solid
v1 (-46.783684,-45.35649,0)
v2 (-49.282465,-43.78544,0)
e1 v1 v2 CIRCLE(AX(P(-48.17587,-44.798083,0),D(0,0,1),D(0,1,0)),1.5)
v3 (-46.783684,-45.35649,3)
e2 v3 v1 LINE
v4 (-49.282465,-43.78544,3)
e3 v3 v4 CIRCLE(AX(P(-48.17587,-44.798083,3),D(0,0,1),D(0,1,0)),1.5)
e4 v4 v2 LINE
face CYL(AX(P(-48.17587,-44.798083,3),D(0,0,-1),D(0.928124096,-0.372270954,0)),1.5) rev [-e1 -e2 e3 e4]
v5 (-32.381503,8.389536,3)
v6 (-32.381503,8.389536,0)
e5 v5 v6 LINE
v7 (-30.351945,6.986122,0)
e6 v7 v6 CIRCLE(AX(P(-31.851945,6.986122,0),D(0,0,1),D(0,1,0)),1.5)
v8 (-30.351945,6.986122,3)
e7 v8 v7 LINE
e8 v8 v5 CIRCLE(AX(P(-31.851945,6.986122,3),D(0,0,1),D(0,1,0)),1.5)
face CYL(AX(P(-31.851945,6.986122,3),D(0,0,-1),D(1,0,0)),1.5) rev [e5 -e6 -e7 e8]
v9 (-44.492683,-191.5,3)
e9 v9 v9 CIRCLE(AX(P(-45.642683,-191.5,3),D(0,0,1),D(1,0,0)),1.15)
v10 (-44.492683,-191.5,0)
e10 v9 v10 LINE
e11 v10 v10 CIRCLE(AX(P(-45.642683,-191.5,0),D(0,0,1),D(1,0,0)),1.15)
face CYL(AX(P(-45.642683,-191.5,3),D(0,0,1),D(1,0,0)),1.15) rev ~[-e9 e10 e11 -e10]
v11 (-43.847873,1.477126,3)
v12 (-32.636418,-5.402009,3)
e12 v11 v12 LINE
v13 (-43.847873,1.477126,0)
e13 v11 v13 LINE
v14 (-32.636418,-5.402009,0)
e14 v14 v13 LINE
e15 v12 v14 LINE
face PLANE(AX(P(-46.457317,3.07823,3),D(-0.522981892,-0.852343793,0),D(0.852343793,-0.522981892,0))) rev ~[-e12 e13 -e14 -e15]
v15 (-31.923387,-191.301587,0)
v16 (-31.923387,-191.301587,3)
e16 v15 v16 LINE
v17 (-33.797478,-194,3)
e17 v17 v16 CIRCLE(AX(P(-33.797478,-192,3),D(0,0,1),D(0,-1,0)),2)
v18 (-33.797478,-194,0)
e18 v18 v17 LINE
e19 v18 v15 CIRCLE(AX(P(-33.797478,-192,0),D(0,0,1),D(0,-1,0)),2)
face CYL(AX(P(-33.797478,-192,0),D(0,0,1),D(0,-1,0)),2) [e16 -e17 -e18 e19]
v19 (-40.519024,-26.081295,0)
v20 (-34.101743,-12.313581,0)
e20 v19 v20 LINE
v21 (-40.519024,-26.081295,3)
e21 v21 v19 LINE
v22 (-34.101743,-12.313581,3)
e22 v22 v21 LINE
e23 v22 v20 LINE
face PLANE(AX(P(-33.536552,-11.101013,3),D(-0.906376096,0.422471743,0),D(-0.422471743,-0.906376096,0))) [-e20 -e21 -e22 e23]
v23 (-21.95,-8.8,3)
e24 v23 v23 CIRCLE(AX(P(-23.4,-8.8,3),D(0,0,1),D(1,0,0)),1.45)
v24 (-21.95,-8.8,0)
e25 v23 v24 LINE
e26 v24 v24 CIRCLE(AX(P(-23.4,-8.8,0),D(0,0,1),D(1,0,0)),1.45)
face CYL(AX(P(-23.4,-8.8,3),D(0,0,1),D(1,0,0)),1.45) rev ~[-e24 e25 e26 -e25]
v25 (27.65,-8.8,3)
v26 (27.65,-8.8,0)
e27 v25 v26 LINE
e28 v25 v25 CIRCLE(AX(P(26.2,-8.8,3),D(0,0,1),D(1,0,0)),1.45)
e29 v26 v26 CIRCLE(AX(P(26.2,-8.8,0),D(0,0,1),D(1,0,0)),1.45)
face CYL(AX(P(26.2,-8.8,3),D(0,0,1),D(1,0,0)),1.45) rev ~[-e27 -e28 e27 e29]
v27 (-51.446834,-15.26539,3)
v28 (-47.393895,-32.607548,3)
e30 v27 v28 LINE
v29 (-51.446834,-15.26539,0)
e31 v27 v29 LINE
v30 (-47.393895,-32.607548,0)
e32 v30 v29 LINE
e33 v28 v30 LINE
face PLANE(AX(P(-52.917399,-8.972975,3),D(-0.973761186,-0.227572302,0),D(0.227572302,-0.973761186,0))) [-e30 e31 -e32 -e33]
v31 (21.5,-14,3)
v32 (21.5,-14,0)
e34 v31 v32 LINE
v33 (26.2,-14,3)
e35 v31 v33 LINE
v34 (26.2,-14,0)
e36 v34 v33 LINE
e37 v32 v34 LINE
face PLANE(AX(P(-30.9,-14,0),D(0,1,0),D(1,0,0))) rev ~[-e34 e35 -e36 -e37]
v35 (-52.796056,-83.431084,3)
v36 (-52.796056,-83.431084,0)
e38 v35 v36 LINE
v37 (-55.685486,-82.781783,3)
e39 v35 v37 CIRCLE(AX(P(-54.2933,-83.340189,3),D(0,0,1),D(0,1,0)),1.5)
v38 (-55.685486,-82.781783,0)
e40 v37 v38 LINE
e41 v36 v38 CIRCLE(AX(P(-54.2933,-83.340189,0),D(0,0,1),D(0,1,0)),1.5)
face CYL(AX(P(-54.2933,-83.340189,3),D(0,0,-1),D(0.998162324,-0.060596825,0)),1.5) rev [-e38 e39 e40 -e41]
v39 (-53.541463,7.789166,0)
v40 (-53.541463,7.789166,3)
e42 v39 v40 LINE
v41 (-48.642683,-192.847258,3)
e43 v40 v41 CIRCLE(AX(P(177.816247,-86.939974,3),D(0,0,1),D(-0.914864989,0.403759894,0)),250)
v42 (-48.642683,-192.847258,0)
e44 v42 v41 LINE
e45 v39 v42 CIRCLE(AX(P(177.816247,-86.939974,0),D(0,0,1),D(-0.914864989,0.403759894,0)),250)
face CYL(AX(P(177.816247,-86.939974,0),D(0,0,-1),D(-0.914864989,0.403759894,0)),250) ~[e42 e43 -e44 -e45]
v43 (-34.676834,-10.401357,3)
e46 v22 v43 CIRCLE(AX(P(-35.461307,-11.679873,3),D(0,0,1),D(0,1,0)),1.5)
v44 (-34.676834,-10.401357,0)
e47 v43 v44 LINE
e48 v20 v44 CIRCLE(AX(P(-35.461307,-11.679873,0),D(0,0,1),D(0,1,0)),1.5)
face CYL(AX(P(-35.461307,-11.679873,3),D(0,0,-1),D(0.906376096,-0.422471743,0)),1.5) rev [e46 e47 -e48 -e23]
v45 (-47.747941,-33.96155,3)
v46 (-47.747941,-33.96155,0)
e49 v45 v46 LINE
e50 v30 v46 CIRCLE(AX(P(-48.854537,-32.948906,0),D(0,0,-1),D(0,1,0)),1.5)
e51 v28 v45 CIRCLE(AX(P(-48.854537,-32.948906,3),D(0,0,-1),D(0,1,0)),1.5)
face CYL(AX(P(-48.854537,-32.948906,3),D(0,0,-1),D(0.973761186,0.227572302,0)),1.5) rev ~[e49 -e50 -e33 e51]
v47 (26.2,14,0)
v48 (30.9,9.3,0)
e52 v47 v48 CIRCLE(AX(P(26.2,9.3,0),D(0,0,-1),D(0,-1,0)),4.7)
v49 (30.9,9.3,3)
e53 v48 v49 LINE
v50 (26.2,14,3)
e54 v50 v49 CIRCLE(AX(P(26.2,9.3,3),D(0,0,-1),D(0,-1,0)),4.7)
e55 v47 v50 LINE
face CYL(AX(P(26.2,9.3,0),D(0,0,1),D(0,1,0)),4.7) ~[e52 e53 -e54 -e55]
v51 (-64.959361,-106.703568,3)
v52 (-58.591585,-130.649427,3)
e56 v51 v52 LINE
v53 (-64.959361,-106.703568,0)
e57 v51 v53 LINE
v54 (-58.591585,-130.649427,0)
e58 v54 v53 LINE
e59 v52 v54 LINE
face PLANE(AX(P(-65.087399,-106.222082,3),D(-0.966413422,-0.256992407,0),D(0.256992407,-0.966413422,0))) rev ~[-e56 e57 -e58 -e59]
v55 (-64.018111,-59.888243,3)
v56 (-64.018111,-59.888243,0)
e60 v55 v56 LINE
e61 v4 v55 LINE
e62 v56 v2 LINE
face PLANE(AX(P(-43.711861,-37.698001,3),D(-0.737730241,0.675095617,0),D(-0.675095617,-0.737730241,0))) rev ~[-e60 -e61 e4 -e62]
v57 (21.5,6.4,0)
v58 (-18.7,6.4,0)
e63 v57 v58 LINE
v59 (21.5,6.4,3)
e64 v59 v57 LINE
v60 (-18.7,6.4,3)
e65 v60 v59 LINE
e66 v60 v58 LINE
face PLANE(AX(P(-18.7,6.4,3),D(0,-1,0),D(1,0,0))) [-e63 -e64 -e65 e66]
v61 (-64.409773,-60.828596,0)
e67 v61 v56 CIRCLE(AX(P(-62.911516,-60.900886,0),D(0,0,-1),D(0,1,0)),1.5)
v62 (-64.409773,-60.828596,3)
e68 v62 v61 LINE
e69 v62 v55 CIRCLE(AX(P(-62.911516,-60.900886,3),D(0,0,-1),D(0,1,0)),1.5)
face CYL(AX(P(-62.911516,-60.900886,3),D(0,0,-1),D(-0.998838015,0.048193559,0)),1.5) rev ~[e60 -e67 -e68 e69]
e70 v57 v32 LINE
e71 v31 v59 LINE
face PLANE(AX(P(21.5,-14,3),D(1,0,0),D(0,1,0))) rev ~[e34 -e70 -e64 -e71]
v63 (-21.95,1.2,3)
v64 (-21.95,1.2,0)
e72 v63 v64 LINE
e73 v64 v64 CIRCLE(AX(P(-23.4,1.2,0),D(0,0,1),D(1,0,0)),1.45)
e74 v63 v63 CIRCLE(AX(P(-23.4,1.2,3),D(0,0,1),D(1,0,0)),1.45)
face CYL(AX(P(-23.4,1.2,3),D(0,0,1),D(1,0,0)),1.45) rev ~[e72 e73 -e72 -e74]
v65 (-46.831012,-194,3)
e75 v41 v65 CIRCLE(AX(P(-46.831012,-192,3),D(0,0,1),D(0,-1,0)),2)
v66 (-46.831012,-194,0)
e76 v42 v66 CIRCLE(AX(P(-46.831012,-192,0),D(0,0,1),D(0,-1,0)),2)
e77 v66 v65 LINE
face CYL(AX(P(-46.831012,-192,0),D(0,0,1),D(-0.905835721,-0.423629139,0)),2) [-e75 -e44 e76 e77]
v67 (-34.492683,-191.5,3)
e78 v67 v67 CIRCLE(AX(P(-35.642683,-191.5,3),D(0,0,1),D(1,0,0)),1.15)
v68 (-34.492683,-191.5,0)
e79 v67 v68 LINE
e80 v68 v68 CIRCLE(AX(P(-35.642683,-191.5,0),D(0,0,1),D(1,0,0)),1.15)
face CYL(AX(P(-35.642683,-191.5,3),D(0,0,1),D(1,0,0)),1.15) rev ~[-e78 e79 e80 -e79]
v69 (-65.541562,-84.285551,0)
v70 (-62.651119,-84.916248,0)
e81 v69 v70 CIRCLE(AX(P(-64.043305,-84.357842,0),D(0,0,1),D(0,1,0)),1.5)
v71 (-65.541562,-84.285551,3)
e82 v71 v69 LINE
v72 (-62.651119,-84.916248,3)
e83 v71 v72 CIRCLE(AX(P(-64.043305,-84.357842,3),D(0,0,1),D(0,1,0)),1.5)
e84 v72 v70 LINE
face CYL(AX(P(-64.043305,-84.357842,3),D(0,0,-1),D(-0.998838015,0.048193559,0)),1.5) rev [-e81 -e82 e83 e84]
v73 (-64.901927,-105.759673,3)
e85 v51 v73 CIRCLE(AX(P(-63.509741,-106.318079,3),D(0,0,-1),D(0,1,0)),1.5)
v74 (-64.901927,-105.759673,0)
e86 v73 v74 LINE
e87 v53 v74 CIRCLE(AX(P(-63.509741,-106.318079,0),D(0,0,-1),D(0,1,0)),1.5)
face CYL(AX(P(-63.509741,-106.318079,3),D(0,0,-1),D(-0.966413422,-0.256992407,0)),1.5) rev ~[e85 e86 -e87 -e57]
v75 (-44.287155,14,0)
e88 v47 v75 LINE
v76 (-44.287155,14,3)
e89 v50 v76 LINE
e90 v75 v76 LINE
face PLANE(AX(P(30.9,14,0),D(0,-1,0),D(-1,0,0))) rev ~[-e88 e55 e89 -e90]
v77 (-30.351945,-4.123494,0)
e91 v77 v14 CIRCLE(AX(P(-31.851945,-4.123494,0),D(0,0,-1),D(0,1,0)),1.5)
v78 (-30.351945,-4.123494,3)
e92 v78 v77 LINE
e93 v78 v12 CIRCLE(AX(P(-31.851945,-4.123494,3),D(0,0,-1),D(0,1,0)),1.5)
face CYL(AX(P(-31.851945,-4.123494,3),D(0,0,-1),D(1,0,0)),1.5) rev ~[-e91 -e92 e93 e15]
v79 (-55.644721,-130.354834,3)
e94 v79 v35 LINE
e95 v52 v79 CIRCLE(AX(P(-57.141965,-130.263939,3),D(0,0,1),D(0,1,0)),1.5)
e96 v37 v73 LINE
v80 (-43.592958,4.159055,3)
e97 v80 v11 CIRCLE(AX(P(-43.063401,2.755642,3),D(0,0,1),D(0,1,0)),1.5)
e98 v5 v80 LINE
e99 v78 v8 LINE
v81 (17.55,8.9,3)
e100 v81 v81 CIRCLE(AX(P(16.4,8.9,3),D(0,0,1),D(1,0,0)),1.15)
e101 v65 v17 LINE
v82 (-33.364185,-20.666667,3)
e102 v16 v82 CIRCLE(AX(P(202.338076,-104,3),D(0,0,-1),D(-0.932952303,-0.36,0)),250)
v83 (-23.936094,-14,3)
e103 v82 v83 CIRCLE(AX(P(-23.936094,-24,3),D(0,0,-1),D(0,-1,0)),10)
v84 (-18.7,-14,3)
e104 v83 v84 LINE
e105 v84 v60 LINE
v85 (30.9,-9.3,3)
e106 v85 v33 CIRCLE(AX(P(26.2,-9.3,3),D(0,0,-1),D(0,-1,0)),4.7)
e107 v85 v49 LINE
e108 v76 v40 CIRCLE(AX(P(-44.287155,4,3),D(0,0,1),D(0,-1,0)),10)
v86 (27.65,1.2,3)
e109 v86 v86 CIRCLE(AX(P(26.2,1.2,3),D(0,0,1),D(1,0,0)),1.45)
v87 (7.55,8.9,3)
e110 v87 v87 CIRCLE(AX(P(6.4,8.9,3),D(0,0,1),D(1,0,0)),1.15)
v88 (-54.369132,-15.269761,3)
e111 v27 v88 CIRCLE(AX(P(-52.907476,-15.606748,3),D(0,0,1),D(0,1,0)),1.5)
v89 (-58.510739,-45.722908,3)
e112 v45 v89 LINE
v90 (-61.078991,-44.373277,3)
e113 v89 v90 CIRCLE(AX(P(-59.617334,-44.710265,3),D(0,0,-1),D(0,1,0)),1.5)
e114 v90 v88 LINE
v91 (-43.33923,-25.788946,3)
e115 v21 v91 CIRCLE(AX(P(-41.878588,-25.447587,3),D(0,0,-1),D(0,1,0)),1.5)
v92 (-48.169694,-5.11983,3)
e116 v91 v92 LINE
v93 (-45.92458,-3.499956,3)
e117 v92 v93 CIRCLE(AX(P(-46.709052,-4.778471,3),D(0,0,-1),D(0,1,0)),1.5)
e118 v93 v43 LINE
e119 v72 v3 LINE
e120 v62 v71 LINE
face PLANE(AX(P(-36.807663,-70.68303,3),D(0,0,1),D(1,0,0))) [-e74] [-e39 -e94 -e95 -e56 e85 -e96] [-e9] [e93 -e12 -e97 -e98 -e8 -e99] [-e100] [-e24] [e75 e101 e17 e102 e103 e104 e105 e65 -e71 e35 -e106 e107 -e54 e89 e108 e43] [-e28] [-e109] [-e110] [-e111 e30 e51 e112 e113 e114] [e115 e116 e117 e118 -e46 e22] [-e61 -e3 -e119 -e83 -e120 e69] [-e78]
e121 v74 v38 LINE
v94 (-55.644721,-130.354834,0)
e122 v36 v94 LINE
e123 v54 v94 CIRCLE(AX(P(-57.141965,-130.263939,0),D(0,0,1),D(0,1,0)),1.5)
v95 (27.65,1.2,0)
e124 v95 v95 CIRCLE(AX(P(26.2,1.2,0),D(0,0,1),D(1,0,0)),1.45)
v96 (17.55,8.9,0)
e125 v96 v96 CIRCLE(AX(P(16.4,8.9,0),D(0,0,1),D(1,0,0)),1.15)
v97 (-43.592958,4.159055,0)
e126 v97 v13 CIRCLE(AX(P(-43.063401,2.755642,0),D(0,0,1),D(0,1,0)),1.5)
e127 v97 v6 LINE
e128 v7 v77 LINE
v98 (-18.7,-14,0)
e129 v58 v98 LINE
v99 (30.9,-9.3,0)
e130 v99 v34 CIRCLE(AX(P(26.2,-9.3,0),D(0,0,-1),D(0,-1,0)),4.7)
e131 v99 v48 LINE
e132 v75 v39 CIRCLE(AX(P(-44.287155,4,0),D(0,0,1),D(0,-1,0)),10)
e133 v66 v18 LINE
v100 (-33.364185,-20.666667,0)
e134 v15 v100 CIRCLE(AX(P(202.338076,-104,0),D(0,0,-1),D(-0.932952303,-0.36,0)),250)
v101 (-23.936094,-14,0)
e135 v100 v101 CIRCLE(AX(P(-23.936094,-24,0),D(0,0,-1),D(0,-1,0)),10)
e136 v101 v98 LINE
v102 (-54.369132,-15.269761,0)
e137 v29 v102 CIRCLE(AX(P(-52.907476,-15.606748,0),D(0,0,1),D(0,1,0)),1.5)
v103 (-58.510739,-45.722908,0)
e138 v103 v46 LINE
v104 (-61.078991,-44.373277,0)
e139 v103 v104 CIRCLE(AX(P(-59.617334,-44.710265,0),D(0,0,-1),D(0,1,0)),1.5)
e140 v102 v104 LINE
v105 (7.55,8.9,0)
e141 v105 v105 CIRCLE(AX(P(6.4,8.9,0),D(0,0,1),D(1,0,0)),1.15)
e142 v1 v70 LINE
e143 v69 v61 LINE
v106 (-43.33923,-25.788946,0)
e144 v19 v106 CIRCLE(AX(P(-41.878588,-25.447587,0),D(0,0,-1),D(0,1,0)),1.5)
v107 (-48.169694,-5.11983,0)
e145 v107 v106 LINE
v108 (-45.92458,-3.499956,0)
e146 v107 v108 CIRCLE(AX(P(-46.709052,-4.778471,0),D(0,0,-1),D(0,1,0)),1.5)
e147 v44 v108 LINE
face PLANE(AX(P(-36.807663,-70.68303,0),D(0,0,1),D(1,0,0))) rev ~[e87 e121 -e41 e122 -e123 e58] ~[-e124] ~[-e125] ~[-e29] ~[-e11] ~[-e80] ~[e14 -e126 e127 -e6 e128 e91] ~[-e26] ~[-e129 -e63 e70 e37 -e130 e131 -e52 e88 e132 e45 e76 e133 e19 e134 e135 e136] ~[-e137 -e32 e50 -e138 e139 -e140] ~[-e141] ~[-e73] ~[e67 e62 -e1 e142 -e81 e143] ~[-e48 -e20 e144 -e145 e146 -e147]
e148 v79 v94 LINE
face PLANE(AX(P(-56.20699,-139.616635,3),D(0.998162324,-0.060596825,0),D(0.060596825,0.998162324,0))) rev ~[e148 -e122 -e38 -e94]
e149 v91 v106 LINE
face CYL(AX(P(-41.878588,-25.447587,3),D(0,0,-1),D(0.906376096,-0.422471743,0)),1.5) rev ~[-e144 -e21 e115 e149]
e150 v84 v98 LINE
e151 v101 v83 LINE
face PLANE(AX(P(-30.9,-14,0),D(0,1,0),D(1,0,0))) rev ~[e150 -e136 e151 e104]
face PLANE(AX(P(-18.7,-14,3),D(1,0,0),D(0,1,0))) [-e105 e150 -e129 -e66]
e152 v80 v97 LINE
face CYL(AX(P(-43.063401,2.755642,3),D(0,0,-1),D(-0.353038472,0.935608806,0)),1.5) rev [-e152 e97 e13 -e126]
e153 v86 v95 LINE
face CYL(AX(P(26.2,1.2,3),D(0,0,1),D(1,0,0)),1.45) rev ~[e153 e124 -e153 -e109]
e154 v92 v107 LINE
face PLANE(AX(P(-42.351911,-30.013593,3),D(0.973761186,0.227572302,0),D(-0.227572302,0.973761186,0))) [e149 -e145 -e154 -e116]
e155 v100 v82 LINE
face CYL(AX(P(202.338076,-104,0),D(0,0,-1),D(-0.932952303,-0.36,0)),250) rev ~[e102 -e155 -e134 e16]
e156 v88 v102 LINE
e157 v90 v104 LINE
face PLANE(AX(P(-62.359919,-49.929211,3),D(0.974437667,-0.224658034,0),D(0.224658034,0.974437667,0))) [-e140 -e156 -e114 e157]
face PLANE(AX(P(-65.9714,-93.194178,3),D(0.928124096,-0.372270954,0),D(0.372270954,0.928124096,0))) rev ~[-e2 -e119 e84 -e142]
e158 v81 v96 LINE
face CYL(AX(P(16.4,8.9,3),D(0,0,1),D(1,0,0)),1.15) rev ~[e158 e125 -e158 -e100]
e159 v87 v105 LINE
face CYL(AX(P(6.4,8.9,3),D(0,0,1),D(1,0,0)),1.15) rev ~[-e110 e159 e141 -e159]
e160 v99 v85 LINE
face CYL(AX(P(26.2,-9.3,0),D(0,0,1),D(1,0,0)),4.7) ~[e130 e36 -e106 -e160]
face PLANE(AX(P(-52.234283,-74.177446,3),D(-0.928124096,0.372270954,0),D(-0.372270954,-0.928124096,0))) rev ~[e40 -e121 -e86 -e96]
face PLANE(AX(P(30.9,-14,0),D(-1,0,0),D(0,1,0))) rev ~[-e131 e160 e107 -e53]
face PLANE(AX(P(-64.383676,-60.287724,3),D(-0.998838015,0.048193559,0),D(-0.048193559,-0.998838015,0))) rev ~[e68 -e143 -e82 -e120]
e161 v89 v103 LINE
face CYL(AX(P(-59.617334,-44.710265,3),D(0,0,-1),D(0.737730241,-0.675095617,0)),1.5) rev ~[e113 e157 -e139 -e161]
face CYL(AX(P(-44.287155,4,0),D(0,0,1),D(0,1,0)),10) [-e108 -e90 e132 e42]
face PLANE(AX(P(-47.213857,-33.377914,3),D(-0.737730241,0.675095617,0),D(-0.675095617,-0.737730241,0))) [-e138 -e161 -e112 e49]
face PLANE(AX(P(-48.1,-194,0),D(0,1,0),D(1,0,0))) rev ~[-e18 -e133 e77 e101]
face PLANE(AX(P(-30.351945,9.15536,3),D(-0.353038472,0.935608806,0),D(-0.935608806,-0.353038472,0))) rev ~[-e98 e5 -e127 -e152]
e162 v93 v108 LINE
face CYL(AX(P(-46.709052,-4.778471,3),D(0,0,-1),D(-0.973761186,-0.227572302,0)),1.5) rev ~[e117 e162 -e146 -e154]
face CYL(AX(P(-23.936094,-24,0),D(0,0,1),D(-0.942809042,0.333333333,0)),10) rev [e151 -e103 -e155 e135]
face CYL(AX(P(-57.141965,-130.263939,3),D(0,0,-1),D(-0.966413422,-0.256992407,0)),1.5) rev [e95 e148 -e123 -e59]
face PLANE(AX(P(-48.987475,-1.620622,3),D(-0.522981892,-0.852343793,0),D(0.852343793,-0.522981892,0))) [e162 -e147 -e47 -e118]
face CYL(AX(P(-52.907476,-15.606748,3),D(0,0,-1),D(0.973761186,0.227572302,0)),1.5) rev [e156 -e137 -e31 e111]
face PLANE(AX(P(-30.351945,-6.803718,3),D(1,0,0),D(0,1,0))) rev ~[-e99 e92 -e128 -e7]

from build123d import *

# Parameters (mm, degrees)
BOSS_EXTRU_1_DEPTH      = 3
ENL_V_MAT_EXTRU_1_REACH = 209.016
ESQUISSE2_W             = 40.2
ESQUISSE2_H             = 20.4
ENL_V_MAT_EXTRU_2_REACH = 209.016
ESQUISSE3_R             = 1.45
CONG_2_R                = 4.7
CONG_3_R                = 10
CONG_5_R                = 2
ENL_V_MAT_EXTRU_3_REACH = 209.016
CONG_6_R                = 1.5
ENL_V_MAT_EXTRU_4_REACH = 209.016
ESQUISSE5_R             = 1.15
ESQUISSE6_R             = 1.15
ENL_V_MAT_EXTRU_5_DEPTH = 10


with BuildPart() as part:
    # Esquisse1 → Boss.-Extru.1 (new body)
    with BuildSketch(Plane.XY):
        with BuildLine():
            Line((-30.9, -14), (30.9, -14))
            Line((30.9, -14), (30.9, 14))
            Line((30.9, 14), (-50.9, 14))
            ThreePointArc((-50.9, 14), (-72.161104257, -90.305053327), (-48.1, -194))
            Line((-48.1, -194), (-30.9, -194))
            ThreePointArc((-30.9, -194), (-47.661924206, -104), (-30.9, -14))
        make_face()
    extrude(amount=BOSS_EXTRU_1_DEPTH)

    # Esquisse2 → Enlèv. mat.-Extru.1 (cut, up to next)
    with BuildSketch(Plane.XY.offset(3), mode=Mode.PRIVATE) as enl_v_mat_extru_1_sk1:
        with Locations((1.4, -3.8)):
            Rectangle(ESQUISSE2_W, ESQUISSE2_H)
    enl_v_mat_extru_1_tool1 = extrude(enl_v_mat_extru_1_sk1.sketch, amount=-ENL_V_MAT_EXTRU_1_REACH, mode=Mode.PRIVATE) & part.part
    add(enl_v_mat_extru_1_tool1.solids().sort_by_distance((1.4, -3.8, 3))[0], mode=Mode.SUBTRACT)

    # Esquisse3 → Enlèv. mat.-Extru.2 (cut, up to next)
    with BuildSketch(Plane.XY.offset(3), mode=Mode.PRIVATE) as enl_v_mat_extru_2_sk1:
        with Locations((26.2, -8.8)):
            Circle(ESQUISSE3_R)
    enl_v_mat_extru_2_tool1 = extrude(enl_v_mat_extru_2_sk1.sketch, amount=-ENL_V_MAT_EXTRU_2_REACH, mode=Mode.PRIVATE) & part.part
    # Esquisse3 → Enlèv. mat.-Extru.2 (cut, up to next)
    with BuildSketch(Plane.XY.offset(3), mode=Mode.PRIVATE) as enl_v_mat_extru_2_sk2:
        with Locations((-23.4, -8.8)):
            Circle(ESQUISSE3_R)
    enl_v_mat_extru_2_tool2 = extrude(enl_v_mat_extru_2_sk2.sketch, amount=-ENL_V_MAT_EXTRU_2_REACH, mode=Mode.PRIVATE) & part.part
    # Esquisse3 → Enlèv. mat.-Extru.2 (cut, up to next)
    with BuildSketch(Plane.XY.offset(3), mode=Mode.PRIVATE) as enl_v_mat_extru_2_sk3:
        with Locations((-23.4, 1.2)):
            Circle(ESQUISSE3_R)
    enl_v_mat_extru_2_tool3 = extrude(enl_v_mat_extru_2_sk3.sketch, amount=-ENL_V_MAT_EXTRU_2_REACH, mode=Mode.PRIVATE) & part.part
    # Esquisse3 → Enlèv. mat.-Extru.2 (cut, up to next)
    with BuildSketch(Plane.XY.offset(3), mode=Mode.PRIVATE) as enl_v_mat_extru_2_sk4:
        with Locations((26.2, 1.2)):
            Circle(ESQUISSE3_R)
    enl_v_mat_extru_2_tool4 = extrude(enl_v_mat_extru_2_sk4.sketch, amount=-ENL_V_MAT_EXTRU_2_REACH, mode=Mode.PRIVATE) & part.part
    add(enl_v_mat_extru_2_tool1.solids().sort_by_distance((26.2, -8.8, 3))[0], mode=Mode.SUBTRACT)
    add(enl_v_mat_extru_2_tool2.solids().sort_by_distance((-23.4, -8.8, 3))[0], mode=Mode.SUBTRACT)
    add(enl_v_mat_extru_2_tool3.solids().sort_by_distance((-23.4, 1.2, 3))[0], mode=Mode.SUBTRACT)
    add(enl_v_mat_extru_2_tool4.solids().sort_by_distance((26.2, 1.2, 3))[0], mode=Mode.SUBTRACT)

    # Congé2
    cong_2_edges = [part.edges().sort_by_distance(p)[0] for p in [
        (30.9, -14, 1.5),
        (30.9, 14, 1.5),
    ]]
    fillet(cong_2_edges, radius=CONG_2_R)

    # Congé3
    cong_3_edges = [part.edges().sort_by_distance(p)[0] for p in [
        (-30.9, -14, 1.5),
        (-50.9, 14, 1.5),
    ]]
    fillet(cong_3_edges, radius=CONG_3_R)

    # Congé5
    cong_5_edges = [part.edges().sort_by_distance(p)[0] for p in [
        (-30.9, -194, 1.5),
        (-48.1, -194, 1.5),
    ]]
    fillet(cong_5_edges, radius=CONG_5_R)

    # Esquisse4 → Enlèv. mat.-Extru.3 (cut, up to next)
    with BuildSketch(Plane.XY.offset(3), mode=Mode.PRIVATE) as enl_v_mat_extru_3_sk1:
        Polygon((-33.536552076, -11.101012911), (-42.351911307, -30.013593499), (-48.987474587, -1.620621605), align=None)
    enl_v_mat_extru_3_tool1 = extrude(enl_v_mat_extru_3_sk1.sketch, amount=-ENL_V_MAT_EXTRU_3_REACH, mode=Mode.PRIVATE) & part.part
    # Esquisse4 → Enlèv. mat.-Extru.3 (cut, up to next)
    with BuildSketch(Plane.XY.offset(3), mode=Mode.PRIVATE) as enl_v_mat_extru_3_sk2:
        Polygon((-52.917399073, -8.972975376), (-47.213856869, -33.377913835), (-62.359919338, -49.92921121), align=None)
    enl_v_mat_extru_3_tool2 = extrude(enl_v_mat_extru_3_sk2.sketch, amount=-ENL_V_MAT_EXTRU_3_REACH, mode=Mode.PRIVATE) & part.part
    # Esquisse4 → Enlèv. mat.-Extru.3 (cut, up to next)
    with BuildSketch(Plane.XY.offset(3), mode=Mode.PRIVATE) as enl_v_mat_extru_3_sk3:
        Polygon((-43.711860923, -37.698000672), (-64.383676275, -60.287724165), (-65.97140029, -93.194177891), align=None)
    enl_v_mat_extru_3_tool3 = extrude(enl_v_mat_extru_3_sk3.sketch, amount=-ENL_V_MAT_EXTRU_3_REACH, mode=Mode.PRIVATE) & part.part
    # Esquisse4 → Enlèv. mat.-Extru.3 (cut, up to next)
    with BuildSketch(Plane.XY.offset(3), mode=Mode.PRIVATE) as enl_v_mat_extru_3_sk4:
        Polygon((-46.457316631, 3.078230456), (-30.351945171, -6.80371824), (-30.351945171, 9.155359803), align=None)
    enl_v_mat_extru_3_tool4 = extrude(enl_v_mat_extru_3_sk4.sketch, amount=-ENL_V_MAT_EXTRU_3_REACH, mode=Mode.PRIVATE) & part.part
    # Esquisse4 → Enlèv. mat.-Extru.3 (cut, up to next)
    with BuildSketch(Plane.XY.offset(3), mode=Mode.PRIVATE) as enl_v_mat_extru_3_sk5:
        Polygon((-52.234282619, -74.177445722), (-65.087399313, -106.222081959), (-56.206990273, -139.61663464), align=None)
    enl_v_mat_extru_3_tool5 = extrude(enl_v_mat_extru_3_sk5.sketch, amount=-ENL_V_MAT_EXTRU_3_REACH, mode=Mode.PRIVATE) & part.part
    add(enl_v_mat_extru_3_tool1.solids().sort_by_distance((-41.625313, -14.245076, 3))[0], mode=Mode.SUBTRACT)
    add(enl_v_mat_extru_3_tool2.solids().sort_by_distance((-54.163725, -30.760033, 3))[0], mode=Mode.SUBTRACT)
    add(enl_v_mat_extru_3_tool3.solids().sort_by_distance((-58.022312, -63.726634, 3))[0], mode=Mode.SUBTRACT)
    add(enl_v_mat_extru_3_tool4.solids().sort_by_distance((-35.720402, 1.809957, 3))[0], mode=Mode.SUBTRACT)
    add(enl_v_mat_extru_3_tool5.solids().sort_by_distance((-57.842891, -106.672054, 3))[0], mode=Mode.SUBTRACT)

    # Congé6
    cong_6_edges = [part.edges().sort_by_distance(p)[0] for p in [
        (-62.359919338, -49.92921121, 1.5),
        (-52.917399073, -8.972975376, 1.5),
        (-47.213856869, -33.377913835, 1.5),
        (-46.457316631, 3.078230456, 1.5),
        (-30.351945171, 9.155359803, 1.5),
        (-30.351945171, -6.80371824, 1.5),
        (-52.234282619, -74.177445722, 1.5),
        (-56.206990273, -139.61663464, 1.5),
        (-65.087399313, -106.222081959, 1.5),
        (-43.711860923, -37.698000672, 1.5),
        (-65.97140029, -93.194177891, 1.5),
        (-64.383676275, -60.287724165, 1.5),
        (-48.987474587, -1.620621605, 1.5),
        (-33.536552076, -11.101012911, 1.5),
        (-42.351911307, -30.013593499, 1.5),
    ]]
    fillet(cong_6_edges, radius=CONG_6_R)

    # Esquisse5 → Enlèv. mat.-Extru.4 (cut, up to next)
    with BuildSketch(Plane.XY.offset(3), mode=Mode.PRIVATE) as enl_v_mat_extru_4_sk1:
        with Locations((16.4, 8.9)):
            Circle(ESQUISSE5_R)
    enl_v_mat_extru_4_tool1 = extrude(enl_v_mat_extru_4_sk1.sketch, amount=-ENL_V_MAT_EXTRU_4_REACH, mode=Mode.PRIVATE) & part.part
    # Esquisse5 → Enlèv. mat.-Extru.4 (cut, up to next)
    with BuildSketch(Plane.XY.offset(3), mode=Mode.PRIVATE) as enl_v_mat_extru_4_sk2:
        with Locations((6.4, 8.9)):
            Circle(ESQUISSE5_R)
    enl_v_mat_extru_4_tool2 = extrude(enl_v_mat_extru_4_sk2.sketch, amount=-ENL_V_MAT_EXTRU_4_REACH, mode=Mode.PRIVATE) & part.part
    add(enl_v_mat_extru_4_tool1.solids().sort_by_distance((16.4, 8.9, 3))[0], mode=Mode.SUBTRACT)
    add(enl_v_mat_extru_4_tool2.solids().sort_by_distance((6.4, 8.9, 3))[0], mode=Mode.SUBTRACT)

    # Esquisse6 → Enlèv. mat.-Extru.5 (cut)
    with BuildSketch(Plane.XY.offset(3)):
        with Locations((-45.64268297, -191.5)):
            Circle(ESQUISSE6_R)
        with Locations((-35.64268297, -191.5)):
            Circle(ESQUISSE6_R)
    extrude(amount=-ENL_V_MAT_EXTRU_5_DEPTH, mode=Mode.SUBTRACT)


solid = part.part
